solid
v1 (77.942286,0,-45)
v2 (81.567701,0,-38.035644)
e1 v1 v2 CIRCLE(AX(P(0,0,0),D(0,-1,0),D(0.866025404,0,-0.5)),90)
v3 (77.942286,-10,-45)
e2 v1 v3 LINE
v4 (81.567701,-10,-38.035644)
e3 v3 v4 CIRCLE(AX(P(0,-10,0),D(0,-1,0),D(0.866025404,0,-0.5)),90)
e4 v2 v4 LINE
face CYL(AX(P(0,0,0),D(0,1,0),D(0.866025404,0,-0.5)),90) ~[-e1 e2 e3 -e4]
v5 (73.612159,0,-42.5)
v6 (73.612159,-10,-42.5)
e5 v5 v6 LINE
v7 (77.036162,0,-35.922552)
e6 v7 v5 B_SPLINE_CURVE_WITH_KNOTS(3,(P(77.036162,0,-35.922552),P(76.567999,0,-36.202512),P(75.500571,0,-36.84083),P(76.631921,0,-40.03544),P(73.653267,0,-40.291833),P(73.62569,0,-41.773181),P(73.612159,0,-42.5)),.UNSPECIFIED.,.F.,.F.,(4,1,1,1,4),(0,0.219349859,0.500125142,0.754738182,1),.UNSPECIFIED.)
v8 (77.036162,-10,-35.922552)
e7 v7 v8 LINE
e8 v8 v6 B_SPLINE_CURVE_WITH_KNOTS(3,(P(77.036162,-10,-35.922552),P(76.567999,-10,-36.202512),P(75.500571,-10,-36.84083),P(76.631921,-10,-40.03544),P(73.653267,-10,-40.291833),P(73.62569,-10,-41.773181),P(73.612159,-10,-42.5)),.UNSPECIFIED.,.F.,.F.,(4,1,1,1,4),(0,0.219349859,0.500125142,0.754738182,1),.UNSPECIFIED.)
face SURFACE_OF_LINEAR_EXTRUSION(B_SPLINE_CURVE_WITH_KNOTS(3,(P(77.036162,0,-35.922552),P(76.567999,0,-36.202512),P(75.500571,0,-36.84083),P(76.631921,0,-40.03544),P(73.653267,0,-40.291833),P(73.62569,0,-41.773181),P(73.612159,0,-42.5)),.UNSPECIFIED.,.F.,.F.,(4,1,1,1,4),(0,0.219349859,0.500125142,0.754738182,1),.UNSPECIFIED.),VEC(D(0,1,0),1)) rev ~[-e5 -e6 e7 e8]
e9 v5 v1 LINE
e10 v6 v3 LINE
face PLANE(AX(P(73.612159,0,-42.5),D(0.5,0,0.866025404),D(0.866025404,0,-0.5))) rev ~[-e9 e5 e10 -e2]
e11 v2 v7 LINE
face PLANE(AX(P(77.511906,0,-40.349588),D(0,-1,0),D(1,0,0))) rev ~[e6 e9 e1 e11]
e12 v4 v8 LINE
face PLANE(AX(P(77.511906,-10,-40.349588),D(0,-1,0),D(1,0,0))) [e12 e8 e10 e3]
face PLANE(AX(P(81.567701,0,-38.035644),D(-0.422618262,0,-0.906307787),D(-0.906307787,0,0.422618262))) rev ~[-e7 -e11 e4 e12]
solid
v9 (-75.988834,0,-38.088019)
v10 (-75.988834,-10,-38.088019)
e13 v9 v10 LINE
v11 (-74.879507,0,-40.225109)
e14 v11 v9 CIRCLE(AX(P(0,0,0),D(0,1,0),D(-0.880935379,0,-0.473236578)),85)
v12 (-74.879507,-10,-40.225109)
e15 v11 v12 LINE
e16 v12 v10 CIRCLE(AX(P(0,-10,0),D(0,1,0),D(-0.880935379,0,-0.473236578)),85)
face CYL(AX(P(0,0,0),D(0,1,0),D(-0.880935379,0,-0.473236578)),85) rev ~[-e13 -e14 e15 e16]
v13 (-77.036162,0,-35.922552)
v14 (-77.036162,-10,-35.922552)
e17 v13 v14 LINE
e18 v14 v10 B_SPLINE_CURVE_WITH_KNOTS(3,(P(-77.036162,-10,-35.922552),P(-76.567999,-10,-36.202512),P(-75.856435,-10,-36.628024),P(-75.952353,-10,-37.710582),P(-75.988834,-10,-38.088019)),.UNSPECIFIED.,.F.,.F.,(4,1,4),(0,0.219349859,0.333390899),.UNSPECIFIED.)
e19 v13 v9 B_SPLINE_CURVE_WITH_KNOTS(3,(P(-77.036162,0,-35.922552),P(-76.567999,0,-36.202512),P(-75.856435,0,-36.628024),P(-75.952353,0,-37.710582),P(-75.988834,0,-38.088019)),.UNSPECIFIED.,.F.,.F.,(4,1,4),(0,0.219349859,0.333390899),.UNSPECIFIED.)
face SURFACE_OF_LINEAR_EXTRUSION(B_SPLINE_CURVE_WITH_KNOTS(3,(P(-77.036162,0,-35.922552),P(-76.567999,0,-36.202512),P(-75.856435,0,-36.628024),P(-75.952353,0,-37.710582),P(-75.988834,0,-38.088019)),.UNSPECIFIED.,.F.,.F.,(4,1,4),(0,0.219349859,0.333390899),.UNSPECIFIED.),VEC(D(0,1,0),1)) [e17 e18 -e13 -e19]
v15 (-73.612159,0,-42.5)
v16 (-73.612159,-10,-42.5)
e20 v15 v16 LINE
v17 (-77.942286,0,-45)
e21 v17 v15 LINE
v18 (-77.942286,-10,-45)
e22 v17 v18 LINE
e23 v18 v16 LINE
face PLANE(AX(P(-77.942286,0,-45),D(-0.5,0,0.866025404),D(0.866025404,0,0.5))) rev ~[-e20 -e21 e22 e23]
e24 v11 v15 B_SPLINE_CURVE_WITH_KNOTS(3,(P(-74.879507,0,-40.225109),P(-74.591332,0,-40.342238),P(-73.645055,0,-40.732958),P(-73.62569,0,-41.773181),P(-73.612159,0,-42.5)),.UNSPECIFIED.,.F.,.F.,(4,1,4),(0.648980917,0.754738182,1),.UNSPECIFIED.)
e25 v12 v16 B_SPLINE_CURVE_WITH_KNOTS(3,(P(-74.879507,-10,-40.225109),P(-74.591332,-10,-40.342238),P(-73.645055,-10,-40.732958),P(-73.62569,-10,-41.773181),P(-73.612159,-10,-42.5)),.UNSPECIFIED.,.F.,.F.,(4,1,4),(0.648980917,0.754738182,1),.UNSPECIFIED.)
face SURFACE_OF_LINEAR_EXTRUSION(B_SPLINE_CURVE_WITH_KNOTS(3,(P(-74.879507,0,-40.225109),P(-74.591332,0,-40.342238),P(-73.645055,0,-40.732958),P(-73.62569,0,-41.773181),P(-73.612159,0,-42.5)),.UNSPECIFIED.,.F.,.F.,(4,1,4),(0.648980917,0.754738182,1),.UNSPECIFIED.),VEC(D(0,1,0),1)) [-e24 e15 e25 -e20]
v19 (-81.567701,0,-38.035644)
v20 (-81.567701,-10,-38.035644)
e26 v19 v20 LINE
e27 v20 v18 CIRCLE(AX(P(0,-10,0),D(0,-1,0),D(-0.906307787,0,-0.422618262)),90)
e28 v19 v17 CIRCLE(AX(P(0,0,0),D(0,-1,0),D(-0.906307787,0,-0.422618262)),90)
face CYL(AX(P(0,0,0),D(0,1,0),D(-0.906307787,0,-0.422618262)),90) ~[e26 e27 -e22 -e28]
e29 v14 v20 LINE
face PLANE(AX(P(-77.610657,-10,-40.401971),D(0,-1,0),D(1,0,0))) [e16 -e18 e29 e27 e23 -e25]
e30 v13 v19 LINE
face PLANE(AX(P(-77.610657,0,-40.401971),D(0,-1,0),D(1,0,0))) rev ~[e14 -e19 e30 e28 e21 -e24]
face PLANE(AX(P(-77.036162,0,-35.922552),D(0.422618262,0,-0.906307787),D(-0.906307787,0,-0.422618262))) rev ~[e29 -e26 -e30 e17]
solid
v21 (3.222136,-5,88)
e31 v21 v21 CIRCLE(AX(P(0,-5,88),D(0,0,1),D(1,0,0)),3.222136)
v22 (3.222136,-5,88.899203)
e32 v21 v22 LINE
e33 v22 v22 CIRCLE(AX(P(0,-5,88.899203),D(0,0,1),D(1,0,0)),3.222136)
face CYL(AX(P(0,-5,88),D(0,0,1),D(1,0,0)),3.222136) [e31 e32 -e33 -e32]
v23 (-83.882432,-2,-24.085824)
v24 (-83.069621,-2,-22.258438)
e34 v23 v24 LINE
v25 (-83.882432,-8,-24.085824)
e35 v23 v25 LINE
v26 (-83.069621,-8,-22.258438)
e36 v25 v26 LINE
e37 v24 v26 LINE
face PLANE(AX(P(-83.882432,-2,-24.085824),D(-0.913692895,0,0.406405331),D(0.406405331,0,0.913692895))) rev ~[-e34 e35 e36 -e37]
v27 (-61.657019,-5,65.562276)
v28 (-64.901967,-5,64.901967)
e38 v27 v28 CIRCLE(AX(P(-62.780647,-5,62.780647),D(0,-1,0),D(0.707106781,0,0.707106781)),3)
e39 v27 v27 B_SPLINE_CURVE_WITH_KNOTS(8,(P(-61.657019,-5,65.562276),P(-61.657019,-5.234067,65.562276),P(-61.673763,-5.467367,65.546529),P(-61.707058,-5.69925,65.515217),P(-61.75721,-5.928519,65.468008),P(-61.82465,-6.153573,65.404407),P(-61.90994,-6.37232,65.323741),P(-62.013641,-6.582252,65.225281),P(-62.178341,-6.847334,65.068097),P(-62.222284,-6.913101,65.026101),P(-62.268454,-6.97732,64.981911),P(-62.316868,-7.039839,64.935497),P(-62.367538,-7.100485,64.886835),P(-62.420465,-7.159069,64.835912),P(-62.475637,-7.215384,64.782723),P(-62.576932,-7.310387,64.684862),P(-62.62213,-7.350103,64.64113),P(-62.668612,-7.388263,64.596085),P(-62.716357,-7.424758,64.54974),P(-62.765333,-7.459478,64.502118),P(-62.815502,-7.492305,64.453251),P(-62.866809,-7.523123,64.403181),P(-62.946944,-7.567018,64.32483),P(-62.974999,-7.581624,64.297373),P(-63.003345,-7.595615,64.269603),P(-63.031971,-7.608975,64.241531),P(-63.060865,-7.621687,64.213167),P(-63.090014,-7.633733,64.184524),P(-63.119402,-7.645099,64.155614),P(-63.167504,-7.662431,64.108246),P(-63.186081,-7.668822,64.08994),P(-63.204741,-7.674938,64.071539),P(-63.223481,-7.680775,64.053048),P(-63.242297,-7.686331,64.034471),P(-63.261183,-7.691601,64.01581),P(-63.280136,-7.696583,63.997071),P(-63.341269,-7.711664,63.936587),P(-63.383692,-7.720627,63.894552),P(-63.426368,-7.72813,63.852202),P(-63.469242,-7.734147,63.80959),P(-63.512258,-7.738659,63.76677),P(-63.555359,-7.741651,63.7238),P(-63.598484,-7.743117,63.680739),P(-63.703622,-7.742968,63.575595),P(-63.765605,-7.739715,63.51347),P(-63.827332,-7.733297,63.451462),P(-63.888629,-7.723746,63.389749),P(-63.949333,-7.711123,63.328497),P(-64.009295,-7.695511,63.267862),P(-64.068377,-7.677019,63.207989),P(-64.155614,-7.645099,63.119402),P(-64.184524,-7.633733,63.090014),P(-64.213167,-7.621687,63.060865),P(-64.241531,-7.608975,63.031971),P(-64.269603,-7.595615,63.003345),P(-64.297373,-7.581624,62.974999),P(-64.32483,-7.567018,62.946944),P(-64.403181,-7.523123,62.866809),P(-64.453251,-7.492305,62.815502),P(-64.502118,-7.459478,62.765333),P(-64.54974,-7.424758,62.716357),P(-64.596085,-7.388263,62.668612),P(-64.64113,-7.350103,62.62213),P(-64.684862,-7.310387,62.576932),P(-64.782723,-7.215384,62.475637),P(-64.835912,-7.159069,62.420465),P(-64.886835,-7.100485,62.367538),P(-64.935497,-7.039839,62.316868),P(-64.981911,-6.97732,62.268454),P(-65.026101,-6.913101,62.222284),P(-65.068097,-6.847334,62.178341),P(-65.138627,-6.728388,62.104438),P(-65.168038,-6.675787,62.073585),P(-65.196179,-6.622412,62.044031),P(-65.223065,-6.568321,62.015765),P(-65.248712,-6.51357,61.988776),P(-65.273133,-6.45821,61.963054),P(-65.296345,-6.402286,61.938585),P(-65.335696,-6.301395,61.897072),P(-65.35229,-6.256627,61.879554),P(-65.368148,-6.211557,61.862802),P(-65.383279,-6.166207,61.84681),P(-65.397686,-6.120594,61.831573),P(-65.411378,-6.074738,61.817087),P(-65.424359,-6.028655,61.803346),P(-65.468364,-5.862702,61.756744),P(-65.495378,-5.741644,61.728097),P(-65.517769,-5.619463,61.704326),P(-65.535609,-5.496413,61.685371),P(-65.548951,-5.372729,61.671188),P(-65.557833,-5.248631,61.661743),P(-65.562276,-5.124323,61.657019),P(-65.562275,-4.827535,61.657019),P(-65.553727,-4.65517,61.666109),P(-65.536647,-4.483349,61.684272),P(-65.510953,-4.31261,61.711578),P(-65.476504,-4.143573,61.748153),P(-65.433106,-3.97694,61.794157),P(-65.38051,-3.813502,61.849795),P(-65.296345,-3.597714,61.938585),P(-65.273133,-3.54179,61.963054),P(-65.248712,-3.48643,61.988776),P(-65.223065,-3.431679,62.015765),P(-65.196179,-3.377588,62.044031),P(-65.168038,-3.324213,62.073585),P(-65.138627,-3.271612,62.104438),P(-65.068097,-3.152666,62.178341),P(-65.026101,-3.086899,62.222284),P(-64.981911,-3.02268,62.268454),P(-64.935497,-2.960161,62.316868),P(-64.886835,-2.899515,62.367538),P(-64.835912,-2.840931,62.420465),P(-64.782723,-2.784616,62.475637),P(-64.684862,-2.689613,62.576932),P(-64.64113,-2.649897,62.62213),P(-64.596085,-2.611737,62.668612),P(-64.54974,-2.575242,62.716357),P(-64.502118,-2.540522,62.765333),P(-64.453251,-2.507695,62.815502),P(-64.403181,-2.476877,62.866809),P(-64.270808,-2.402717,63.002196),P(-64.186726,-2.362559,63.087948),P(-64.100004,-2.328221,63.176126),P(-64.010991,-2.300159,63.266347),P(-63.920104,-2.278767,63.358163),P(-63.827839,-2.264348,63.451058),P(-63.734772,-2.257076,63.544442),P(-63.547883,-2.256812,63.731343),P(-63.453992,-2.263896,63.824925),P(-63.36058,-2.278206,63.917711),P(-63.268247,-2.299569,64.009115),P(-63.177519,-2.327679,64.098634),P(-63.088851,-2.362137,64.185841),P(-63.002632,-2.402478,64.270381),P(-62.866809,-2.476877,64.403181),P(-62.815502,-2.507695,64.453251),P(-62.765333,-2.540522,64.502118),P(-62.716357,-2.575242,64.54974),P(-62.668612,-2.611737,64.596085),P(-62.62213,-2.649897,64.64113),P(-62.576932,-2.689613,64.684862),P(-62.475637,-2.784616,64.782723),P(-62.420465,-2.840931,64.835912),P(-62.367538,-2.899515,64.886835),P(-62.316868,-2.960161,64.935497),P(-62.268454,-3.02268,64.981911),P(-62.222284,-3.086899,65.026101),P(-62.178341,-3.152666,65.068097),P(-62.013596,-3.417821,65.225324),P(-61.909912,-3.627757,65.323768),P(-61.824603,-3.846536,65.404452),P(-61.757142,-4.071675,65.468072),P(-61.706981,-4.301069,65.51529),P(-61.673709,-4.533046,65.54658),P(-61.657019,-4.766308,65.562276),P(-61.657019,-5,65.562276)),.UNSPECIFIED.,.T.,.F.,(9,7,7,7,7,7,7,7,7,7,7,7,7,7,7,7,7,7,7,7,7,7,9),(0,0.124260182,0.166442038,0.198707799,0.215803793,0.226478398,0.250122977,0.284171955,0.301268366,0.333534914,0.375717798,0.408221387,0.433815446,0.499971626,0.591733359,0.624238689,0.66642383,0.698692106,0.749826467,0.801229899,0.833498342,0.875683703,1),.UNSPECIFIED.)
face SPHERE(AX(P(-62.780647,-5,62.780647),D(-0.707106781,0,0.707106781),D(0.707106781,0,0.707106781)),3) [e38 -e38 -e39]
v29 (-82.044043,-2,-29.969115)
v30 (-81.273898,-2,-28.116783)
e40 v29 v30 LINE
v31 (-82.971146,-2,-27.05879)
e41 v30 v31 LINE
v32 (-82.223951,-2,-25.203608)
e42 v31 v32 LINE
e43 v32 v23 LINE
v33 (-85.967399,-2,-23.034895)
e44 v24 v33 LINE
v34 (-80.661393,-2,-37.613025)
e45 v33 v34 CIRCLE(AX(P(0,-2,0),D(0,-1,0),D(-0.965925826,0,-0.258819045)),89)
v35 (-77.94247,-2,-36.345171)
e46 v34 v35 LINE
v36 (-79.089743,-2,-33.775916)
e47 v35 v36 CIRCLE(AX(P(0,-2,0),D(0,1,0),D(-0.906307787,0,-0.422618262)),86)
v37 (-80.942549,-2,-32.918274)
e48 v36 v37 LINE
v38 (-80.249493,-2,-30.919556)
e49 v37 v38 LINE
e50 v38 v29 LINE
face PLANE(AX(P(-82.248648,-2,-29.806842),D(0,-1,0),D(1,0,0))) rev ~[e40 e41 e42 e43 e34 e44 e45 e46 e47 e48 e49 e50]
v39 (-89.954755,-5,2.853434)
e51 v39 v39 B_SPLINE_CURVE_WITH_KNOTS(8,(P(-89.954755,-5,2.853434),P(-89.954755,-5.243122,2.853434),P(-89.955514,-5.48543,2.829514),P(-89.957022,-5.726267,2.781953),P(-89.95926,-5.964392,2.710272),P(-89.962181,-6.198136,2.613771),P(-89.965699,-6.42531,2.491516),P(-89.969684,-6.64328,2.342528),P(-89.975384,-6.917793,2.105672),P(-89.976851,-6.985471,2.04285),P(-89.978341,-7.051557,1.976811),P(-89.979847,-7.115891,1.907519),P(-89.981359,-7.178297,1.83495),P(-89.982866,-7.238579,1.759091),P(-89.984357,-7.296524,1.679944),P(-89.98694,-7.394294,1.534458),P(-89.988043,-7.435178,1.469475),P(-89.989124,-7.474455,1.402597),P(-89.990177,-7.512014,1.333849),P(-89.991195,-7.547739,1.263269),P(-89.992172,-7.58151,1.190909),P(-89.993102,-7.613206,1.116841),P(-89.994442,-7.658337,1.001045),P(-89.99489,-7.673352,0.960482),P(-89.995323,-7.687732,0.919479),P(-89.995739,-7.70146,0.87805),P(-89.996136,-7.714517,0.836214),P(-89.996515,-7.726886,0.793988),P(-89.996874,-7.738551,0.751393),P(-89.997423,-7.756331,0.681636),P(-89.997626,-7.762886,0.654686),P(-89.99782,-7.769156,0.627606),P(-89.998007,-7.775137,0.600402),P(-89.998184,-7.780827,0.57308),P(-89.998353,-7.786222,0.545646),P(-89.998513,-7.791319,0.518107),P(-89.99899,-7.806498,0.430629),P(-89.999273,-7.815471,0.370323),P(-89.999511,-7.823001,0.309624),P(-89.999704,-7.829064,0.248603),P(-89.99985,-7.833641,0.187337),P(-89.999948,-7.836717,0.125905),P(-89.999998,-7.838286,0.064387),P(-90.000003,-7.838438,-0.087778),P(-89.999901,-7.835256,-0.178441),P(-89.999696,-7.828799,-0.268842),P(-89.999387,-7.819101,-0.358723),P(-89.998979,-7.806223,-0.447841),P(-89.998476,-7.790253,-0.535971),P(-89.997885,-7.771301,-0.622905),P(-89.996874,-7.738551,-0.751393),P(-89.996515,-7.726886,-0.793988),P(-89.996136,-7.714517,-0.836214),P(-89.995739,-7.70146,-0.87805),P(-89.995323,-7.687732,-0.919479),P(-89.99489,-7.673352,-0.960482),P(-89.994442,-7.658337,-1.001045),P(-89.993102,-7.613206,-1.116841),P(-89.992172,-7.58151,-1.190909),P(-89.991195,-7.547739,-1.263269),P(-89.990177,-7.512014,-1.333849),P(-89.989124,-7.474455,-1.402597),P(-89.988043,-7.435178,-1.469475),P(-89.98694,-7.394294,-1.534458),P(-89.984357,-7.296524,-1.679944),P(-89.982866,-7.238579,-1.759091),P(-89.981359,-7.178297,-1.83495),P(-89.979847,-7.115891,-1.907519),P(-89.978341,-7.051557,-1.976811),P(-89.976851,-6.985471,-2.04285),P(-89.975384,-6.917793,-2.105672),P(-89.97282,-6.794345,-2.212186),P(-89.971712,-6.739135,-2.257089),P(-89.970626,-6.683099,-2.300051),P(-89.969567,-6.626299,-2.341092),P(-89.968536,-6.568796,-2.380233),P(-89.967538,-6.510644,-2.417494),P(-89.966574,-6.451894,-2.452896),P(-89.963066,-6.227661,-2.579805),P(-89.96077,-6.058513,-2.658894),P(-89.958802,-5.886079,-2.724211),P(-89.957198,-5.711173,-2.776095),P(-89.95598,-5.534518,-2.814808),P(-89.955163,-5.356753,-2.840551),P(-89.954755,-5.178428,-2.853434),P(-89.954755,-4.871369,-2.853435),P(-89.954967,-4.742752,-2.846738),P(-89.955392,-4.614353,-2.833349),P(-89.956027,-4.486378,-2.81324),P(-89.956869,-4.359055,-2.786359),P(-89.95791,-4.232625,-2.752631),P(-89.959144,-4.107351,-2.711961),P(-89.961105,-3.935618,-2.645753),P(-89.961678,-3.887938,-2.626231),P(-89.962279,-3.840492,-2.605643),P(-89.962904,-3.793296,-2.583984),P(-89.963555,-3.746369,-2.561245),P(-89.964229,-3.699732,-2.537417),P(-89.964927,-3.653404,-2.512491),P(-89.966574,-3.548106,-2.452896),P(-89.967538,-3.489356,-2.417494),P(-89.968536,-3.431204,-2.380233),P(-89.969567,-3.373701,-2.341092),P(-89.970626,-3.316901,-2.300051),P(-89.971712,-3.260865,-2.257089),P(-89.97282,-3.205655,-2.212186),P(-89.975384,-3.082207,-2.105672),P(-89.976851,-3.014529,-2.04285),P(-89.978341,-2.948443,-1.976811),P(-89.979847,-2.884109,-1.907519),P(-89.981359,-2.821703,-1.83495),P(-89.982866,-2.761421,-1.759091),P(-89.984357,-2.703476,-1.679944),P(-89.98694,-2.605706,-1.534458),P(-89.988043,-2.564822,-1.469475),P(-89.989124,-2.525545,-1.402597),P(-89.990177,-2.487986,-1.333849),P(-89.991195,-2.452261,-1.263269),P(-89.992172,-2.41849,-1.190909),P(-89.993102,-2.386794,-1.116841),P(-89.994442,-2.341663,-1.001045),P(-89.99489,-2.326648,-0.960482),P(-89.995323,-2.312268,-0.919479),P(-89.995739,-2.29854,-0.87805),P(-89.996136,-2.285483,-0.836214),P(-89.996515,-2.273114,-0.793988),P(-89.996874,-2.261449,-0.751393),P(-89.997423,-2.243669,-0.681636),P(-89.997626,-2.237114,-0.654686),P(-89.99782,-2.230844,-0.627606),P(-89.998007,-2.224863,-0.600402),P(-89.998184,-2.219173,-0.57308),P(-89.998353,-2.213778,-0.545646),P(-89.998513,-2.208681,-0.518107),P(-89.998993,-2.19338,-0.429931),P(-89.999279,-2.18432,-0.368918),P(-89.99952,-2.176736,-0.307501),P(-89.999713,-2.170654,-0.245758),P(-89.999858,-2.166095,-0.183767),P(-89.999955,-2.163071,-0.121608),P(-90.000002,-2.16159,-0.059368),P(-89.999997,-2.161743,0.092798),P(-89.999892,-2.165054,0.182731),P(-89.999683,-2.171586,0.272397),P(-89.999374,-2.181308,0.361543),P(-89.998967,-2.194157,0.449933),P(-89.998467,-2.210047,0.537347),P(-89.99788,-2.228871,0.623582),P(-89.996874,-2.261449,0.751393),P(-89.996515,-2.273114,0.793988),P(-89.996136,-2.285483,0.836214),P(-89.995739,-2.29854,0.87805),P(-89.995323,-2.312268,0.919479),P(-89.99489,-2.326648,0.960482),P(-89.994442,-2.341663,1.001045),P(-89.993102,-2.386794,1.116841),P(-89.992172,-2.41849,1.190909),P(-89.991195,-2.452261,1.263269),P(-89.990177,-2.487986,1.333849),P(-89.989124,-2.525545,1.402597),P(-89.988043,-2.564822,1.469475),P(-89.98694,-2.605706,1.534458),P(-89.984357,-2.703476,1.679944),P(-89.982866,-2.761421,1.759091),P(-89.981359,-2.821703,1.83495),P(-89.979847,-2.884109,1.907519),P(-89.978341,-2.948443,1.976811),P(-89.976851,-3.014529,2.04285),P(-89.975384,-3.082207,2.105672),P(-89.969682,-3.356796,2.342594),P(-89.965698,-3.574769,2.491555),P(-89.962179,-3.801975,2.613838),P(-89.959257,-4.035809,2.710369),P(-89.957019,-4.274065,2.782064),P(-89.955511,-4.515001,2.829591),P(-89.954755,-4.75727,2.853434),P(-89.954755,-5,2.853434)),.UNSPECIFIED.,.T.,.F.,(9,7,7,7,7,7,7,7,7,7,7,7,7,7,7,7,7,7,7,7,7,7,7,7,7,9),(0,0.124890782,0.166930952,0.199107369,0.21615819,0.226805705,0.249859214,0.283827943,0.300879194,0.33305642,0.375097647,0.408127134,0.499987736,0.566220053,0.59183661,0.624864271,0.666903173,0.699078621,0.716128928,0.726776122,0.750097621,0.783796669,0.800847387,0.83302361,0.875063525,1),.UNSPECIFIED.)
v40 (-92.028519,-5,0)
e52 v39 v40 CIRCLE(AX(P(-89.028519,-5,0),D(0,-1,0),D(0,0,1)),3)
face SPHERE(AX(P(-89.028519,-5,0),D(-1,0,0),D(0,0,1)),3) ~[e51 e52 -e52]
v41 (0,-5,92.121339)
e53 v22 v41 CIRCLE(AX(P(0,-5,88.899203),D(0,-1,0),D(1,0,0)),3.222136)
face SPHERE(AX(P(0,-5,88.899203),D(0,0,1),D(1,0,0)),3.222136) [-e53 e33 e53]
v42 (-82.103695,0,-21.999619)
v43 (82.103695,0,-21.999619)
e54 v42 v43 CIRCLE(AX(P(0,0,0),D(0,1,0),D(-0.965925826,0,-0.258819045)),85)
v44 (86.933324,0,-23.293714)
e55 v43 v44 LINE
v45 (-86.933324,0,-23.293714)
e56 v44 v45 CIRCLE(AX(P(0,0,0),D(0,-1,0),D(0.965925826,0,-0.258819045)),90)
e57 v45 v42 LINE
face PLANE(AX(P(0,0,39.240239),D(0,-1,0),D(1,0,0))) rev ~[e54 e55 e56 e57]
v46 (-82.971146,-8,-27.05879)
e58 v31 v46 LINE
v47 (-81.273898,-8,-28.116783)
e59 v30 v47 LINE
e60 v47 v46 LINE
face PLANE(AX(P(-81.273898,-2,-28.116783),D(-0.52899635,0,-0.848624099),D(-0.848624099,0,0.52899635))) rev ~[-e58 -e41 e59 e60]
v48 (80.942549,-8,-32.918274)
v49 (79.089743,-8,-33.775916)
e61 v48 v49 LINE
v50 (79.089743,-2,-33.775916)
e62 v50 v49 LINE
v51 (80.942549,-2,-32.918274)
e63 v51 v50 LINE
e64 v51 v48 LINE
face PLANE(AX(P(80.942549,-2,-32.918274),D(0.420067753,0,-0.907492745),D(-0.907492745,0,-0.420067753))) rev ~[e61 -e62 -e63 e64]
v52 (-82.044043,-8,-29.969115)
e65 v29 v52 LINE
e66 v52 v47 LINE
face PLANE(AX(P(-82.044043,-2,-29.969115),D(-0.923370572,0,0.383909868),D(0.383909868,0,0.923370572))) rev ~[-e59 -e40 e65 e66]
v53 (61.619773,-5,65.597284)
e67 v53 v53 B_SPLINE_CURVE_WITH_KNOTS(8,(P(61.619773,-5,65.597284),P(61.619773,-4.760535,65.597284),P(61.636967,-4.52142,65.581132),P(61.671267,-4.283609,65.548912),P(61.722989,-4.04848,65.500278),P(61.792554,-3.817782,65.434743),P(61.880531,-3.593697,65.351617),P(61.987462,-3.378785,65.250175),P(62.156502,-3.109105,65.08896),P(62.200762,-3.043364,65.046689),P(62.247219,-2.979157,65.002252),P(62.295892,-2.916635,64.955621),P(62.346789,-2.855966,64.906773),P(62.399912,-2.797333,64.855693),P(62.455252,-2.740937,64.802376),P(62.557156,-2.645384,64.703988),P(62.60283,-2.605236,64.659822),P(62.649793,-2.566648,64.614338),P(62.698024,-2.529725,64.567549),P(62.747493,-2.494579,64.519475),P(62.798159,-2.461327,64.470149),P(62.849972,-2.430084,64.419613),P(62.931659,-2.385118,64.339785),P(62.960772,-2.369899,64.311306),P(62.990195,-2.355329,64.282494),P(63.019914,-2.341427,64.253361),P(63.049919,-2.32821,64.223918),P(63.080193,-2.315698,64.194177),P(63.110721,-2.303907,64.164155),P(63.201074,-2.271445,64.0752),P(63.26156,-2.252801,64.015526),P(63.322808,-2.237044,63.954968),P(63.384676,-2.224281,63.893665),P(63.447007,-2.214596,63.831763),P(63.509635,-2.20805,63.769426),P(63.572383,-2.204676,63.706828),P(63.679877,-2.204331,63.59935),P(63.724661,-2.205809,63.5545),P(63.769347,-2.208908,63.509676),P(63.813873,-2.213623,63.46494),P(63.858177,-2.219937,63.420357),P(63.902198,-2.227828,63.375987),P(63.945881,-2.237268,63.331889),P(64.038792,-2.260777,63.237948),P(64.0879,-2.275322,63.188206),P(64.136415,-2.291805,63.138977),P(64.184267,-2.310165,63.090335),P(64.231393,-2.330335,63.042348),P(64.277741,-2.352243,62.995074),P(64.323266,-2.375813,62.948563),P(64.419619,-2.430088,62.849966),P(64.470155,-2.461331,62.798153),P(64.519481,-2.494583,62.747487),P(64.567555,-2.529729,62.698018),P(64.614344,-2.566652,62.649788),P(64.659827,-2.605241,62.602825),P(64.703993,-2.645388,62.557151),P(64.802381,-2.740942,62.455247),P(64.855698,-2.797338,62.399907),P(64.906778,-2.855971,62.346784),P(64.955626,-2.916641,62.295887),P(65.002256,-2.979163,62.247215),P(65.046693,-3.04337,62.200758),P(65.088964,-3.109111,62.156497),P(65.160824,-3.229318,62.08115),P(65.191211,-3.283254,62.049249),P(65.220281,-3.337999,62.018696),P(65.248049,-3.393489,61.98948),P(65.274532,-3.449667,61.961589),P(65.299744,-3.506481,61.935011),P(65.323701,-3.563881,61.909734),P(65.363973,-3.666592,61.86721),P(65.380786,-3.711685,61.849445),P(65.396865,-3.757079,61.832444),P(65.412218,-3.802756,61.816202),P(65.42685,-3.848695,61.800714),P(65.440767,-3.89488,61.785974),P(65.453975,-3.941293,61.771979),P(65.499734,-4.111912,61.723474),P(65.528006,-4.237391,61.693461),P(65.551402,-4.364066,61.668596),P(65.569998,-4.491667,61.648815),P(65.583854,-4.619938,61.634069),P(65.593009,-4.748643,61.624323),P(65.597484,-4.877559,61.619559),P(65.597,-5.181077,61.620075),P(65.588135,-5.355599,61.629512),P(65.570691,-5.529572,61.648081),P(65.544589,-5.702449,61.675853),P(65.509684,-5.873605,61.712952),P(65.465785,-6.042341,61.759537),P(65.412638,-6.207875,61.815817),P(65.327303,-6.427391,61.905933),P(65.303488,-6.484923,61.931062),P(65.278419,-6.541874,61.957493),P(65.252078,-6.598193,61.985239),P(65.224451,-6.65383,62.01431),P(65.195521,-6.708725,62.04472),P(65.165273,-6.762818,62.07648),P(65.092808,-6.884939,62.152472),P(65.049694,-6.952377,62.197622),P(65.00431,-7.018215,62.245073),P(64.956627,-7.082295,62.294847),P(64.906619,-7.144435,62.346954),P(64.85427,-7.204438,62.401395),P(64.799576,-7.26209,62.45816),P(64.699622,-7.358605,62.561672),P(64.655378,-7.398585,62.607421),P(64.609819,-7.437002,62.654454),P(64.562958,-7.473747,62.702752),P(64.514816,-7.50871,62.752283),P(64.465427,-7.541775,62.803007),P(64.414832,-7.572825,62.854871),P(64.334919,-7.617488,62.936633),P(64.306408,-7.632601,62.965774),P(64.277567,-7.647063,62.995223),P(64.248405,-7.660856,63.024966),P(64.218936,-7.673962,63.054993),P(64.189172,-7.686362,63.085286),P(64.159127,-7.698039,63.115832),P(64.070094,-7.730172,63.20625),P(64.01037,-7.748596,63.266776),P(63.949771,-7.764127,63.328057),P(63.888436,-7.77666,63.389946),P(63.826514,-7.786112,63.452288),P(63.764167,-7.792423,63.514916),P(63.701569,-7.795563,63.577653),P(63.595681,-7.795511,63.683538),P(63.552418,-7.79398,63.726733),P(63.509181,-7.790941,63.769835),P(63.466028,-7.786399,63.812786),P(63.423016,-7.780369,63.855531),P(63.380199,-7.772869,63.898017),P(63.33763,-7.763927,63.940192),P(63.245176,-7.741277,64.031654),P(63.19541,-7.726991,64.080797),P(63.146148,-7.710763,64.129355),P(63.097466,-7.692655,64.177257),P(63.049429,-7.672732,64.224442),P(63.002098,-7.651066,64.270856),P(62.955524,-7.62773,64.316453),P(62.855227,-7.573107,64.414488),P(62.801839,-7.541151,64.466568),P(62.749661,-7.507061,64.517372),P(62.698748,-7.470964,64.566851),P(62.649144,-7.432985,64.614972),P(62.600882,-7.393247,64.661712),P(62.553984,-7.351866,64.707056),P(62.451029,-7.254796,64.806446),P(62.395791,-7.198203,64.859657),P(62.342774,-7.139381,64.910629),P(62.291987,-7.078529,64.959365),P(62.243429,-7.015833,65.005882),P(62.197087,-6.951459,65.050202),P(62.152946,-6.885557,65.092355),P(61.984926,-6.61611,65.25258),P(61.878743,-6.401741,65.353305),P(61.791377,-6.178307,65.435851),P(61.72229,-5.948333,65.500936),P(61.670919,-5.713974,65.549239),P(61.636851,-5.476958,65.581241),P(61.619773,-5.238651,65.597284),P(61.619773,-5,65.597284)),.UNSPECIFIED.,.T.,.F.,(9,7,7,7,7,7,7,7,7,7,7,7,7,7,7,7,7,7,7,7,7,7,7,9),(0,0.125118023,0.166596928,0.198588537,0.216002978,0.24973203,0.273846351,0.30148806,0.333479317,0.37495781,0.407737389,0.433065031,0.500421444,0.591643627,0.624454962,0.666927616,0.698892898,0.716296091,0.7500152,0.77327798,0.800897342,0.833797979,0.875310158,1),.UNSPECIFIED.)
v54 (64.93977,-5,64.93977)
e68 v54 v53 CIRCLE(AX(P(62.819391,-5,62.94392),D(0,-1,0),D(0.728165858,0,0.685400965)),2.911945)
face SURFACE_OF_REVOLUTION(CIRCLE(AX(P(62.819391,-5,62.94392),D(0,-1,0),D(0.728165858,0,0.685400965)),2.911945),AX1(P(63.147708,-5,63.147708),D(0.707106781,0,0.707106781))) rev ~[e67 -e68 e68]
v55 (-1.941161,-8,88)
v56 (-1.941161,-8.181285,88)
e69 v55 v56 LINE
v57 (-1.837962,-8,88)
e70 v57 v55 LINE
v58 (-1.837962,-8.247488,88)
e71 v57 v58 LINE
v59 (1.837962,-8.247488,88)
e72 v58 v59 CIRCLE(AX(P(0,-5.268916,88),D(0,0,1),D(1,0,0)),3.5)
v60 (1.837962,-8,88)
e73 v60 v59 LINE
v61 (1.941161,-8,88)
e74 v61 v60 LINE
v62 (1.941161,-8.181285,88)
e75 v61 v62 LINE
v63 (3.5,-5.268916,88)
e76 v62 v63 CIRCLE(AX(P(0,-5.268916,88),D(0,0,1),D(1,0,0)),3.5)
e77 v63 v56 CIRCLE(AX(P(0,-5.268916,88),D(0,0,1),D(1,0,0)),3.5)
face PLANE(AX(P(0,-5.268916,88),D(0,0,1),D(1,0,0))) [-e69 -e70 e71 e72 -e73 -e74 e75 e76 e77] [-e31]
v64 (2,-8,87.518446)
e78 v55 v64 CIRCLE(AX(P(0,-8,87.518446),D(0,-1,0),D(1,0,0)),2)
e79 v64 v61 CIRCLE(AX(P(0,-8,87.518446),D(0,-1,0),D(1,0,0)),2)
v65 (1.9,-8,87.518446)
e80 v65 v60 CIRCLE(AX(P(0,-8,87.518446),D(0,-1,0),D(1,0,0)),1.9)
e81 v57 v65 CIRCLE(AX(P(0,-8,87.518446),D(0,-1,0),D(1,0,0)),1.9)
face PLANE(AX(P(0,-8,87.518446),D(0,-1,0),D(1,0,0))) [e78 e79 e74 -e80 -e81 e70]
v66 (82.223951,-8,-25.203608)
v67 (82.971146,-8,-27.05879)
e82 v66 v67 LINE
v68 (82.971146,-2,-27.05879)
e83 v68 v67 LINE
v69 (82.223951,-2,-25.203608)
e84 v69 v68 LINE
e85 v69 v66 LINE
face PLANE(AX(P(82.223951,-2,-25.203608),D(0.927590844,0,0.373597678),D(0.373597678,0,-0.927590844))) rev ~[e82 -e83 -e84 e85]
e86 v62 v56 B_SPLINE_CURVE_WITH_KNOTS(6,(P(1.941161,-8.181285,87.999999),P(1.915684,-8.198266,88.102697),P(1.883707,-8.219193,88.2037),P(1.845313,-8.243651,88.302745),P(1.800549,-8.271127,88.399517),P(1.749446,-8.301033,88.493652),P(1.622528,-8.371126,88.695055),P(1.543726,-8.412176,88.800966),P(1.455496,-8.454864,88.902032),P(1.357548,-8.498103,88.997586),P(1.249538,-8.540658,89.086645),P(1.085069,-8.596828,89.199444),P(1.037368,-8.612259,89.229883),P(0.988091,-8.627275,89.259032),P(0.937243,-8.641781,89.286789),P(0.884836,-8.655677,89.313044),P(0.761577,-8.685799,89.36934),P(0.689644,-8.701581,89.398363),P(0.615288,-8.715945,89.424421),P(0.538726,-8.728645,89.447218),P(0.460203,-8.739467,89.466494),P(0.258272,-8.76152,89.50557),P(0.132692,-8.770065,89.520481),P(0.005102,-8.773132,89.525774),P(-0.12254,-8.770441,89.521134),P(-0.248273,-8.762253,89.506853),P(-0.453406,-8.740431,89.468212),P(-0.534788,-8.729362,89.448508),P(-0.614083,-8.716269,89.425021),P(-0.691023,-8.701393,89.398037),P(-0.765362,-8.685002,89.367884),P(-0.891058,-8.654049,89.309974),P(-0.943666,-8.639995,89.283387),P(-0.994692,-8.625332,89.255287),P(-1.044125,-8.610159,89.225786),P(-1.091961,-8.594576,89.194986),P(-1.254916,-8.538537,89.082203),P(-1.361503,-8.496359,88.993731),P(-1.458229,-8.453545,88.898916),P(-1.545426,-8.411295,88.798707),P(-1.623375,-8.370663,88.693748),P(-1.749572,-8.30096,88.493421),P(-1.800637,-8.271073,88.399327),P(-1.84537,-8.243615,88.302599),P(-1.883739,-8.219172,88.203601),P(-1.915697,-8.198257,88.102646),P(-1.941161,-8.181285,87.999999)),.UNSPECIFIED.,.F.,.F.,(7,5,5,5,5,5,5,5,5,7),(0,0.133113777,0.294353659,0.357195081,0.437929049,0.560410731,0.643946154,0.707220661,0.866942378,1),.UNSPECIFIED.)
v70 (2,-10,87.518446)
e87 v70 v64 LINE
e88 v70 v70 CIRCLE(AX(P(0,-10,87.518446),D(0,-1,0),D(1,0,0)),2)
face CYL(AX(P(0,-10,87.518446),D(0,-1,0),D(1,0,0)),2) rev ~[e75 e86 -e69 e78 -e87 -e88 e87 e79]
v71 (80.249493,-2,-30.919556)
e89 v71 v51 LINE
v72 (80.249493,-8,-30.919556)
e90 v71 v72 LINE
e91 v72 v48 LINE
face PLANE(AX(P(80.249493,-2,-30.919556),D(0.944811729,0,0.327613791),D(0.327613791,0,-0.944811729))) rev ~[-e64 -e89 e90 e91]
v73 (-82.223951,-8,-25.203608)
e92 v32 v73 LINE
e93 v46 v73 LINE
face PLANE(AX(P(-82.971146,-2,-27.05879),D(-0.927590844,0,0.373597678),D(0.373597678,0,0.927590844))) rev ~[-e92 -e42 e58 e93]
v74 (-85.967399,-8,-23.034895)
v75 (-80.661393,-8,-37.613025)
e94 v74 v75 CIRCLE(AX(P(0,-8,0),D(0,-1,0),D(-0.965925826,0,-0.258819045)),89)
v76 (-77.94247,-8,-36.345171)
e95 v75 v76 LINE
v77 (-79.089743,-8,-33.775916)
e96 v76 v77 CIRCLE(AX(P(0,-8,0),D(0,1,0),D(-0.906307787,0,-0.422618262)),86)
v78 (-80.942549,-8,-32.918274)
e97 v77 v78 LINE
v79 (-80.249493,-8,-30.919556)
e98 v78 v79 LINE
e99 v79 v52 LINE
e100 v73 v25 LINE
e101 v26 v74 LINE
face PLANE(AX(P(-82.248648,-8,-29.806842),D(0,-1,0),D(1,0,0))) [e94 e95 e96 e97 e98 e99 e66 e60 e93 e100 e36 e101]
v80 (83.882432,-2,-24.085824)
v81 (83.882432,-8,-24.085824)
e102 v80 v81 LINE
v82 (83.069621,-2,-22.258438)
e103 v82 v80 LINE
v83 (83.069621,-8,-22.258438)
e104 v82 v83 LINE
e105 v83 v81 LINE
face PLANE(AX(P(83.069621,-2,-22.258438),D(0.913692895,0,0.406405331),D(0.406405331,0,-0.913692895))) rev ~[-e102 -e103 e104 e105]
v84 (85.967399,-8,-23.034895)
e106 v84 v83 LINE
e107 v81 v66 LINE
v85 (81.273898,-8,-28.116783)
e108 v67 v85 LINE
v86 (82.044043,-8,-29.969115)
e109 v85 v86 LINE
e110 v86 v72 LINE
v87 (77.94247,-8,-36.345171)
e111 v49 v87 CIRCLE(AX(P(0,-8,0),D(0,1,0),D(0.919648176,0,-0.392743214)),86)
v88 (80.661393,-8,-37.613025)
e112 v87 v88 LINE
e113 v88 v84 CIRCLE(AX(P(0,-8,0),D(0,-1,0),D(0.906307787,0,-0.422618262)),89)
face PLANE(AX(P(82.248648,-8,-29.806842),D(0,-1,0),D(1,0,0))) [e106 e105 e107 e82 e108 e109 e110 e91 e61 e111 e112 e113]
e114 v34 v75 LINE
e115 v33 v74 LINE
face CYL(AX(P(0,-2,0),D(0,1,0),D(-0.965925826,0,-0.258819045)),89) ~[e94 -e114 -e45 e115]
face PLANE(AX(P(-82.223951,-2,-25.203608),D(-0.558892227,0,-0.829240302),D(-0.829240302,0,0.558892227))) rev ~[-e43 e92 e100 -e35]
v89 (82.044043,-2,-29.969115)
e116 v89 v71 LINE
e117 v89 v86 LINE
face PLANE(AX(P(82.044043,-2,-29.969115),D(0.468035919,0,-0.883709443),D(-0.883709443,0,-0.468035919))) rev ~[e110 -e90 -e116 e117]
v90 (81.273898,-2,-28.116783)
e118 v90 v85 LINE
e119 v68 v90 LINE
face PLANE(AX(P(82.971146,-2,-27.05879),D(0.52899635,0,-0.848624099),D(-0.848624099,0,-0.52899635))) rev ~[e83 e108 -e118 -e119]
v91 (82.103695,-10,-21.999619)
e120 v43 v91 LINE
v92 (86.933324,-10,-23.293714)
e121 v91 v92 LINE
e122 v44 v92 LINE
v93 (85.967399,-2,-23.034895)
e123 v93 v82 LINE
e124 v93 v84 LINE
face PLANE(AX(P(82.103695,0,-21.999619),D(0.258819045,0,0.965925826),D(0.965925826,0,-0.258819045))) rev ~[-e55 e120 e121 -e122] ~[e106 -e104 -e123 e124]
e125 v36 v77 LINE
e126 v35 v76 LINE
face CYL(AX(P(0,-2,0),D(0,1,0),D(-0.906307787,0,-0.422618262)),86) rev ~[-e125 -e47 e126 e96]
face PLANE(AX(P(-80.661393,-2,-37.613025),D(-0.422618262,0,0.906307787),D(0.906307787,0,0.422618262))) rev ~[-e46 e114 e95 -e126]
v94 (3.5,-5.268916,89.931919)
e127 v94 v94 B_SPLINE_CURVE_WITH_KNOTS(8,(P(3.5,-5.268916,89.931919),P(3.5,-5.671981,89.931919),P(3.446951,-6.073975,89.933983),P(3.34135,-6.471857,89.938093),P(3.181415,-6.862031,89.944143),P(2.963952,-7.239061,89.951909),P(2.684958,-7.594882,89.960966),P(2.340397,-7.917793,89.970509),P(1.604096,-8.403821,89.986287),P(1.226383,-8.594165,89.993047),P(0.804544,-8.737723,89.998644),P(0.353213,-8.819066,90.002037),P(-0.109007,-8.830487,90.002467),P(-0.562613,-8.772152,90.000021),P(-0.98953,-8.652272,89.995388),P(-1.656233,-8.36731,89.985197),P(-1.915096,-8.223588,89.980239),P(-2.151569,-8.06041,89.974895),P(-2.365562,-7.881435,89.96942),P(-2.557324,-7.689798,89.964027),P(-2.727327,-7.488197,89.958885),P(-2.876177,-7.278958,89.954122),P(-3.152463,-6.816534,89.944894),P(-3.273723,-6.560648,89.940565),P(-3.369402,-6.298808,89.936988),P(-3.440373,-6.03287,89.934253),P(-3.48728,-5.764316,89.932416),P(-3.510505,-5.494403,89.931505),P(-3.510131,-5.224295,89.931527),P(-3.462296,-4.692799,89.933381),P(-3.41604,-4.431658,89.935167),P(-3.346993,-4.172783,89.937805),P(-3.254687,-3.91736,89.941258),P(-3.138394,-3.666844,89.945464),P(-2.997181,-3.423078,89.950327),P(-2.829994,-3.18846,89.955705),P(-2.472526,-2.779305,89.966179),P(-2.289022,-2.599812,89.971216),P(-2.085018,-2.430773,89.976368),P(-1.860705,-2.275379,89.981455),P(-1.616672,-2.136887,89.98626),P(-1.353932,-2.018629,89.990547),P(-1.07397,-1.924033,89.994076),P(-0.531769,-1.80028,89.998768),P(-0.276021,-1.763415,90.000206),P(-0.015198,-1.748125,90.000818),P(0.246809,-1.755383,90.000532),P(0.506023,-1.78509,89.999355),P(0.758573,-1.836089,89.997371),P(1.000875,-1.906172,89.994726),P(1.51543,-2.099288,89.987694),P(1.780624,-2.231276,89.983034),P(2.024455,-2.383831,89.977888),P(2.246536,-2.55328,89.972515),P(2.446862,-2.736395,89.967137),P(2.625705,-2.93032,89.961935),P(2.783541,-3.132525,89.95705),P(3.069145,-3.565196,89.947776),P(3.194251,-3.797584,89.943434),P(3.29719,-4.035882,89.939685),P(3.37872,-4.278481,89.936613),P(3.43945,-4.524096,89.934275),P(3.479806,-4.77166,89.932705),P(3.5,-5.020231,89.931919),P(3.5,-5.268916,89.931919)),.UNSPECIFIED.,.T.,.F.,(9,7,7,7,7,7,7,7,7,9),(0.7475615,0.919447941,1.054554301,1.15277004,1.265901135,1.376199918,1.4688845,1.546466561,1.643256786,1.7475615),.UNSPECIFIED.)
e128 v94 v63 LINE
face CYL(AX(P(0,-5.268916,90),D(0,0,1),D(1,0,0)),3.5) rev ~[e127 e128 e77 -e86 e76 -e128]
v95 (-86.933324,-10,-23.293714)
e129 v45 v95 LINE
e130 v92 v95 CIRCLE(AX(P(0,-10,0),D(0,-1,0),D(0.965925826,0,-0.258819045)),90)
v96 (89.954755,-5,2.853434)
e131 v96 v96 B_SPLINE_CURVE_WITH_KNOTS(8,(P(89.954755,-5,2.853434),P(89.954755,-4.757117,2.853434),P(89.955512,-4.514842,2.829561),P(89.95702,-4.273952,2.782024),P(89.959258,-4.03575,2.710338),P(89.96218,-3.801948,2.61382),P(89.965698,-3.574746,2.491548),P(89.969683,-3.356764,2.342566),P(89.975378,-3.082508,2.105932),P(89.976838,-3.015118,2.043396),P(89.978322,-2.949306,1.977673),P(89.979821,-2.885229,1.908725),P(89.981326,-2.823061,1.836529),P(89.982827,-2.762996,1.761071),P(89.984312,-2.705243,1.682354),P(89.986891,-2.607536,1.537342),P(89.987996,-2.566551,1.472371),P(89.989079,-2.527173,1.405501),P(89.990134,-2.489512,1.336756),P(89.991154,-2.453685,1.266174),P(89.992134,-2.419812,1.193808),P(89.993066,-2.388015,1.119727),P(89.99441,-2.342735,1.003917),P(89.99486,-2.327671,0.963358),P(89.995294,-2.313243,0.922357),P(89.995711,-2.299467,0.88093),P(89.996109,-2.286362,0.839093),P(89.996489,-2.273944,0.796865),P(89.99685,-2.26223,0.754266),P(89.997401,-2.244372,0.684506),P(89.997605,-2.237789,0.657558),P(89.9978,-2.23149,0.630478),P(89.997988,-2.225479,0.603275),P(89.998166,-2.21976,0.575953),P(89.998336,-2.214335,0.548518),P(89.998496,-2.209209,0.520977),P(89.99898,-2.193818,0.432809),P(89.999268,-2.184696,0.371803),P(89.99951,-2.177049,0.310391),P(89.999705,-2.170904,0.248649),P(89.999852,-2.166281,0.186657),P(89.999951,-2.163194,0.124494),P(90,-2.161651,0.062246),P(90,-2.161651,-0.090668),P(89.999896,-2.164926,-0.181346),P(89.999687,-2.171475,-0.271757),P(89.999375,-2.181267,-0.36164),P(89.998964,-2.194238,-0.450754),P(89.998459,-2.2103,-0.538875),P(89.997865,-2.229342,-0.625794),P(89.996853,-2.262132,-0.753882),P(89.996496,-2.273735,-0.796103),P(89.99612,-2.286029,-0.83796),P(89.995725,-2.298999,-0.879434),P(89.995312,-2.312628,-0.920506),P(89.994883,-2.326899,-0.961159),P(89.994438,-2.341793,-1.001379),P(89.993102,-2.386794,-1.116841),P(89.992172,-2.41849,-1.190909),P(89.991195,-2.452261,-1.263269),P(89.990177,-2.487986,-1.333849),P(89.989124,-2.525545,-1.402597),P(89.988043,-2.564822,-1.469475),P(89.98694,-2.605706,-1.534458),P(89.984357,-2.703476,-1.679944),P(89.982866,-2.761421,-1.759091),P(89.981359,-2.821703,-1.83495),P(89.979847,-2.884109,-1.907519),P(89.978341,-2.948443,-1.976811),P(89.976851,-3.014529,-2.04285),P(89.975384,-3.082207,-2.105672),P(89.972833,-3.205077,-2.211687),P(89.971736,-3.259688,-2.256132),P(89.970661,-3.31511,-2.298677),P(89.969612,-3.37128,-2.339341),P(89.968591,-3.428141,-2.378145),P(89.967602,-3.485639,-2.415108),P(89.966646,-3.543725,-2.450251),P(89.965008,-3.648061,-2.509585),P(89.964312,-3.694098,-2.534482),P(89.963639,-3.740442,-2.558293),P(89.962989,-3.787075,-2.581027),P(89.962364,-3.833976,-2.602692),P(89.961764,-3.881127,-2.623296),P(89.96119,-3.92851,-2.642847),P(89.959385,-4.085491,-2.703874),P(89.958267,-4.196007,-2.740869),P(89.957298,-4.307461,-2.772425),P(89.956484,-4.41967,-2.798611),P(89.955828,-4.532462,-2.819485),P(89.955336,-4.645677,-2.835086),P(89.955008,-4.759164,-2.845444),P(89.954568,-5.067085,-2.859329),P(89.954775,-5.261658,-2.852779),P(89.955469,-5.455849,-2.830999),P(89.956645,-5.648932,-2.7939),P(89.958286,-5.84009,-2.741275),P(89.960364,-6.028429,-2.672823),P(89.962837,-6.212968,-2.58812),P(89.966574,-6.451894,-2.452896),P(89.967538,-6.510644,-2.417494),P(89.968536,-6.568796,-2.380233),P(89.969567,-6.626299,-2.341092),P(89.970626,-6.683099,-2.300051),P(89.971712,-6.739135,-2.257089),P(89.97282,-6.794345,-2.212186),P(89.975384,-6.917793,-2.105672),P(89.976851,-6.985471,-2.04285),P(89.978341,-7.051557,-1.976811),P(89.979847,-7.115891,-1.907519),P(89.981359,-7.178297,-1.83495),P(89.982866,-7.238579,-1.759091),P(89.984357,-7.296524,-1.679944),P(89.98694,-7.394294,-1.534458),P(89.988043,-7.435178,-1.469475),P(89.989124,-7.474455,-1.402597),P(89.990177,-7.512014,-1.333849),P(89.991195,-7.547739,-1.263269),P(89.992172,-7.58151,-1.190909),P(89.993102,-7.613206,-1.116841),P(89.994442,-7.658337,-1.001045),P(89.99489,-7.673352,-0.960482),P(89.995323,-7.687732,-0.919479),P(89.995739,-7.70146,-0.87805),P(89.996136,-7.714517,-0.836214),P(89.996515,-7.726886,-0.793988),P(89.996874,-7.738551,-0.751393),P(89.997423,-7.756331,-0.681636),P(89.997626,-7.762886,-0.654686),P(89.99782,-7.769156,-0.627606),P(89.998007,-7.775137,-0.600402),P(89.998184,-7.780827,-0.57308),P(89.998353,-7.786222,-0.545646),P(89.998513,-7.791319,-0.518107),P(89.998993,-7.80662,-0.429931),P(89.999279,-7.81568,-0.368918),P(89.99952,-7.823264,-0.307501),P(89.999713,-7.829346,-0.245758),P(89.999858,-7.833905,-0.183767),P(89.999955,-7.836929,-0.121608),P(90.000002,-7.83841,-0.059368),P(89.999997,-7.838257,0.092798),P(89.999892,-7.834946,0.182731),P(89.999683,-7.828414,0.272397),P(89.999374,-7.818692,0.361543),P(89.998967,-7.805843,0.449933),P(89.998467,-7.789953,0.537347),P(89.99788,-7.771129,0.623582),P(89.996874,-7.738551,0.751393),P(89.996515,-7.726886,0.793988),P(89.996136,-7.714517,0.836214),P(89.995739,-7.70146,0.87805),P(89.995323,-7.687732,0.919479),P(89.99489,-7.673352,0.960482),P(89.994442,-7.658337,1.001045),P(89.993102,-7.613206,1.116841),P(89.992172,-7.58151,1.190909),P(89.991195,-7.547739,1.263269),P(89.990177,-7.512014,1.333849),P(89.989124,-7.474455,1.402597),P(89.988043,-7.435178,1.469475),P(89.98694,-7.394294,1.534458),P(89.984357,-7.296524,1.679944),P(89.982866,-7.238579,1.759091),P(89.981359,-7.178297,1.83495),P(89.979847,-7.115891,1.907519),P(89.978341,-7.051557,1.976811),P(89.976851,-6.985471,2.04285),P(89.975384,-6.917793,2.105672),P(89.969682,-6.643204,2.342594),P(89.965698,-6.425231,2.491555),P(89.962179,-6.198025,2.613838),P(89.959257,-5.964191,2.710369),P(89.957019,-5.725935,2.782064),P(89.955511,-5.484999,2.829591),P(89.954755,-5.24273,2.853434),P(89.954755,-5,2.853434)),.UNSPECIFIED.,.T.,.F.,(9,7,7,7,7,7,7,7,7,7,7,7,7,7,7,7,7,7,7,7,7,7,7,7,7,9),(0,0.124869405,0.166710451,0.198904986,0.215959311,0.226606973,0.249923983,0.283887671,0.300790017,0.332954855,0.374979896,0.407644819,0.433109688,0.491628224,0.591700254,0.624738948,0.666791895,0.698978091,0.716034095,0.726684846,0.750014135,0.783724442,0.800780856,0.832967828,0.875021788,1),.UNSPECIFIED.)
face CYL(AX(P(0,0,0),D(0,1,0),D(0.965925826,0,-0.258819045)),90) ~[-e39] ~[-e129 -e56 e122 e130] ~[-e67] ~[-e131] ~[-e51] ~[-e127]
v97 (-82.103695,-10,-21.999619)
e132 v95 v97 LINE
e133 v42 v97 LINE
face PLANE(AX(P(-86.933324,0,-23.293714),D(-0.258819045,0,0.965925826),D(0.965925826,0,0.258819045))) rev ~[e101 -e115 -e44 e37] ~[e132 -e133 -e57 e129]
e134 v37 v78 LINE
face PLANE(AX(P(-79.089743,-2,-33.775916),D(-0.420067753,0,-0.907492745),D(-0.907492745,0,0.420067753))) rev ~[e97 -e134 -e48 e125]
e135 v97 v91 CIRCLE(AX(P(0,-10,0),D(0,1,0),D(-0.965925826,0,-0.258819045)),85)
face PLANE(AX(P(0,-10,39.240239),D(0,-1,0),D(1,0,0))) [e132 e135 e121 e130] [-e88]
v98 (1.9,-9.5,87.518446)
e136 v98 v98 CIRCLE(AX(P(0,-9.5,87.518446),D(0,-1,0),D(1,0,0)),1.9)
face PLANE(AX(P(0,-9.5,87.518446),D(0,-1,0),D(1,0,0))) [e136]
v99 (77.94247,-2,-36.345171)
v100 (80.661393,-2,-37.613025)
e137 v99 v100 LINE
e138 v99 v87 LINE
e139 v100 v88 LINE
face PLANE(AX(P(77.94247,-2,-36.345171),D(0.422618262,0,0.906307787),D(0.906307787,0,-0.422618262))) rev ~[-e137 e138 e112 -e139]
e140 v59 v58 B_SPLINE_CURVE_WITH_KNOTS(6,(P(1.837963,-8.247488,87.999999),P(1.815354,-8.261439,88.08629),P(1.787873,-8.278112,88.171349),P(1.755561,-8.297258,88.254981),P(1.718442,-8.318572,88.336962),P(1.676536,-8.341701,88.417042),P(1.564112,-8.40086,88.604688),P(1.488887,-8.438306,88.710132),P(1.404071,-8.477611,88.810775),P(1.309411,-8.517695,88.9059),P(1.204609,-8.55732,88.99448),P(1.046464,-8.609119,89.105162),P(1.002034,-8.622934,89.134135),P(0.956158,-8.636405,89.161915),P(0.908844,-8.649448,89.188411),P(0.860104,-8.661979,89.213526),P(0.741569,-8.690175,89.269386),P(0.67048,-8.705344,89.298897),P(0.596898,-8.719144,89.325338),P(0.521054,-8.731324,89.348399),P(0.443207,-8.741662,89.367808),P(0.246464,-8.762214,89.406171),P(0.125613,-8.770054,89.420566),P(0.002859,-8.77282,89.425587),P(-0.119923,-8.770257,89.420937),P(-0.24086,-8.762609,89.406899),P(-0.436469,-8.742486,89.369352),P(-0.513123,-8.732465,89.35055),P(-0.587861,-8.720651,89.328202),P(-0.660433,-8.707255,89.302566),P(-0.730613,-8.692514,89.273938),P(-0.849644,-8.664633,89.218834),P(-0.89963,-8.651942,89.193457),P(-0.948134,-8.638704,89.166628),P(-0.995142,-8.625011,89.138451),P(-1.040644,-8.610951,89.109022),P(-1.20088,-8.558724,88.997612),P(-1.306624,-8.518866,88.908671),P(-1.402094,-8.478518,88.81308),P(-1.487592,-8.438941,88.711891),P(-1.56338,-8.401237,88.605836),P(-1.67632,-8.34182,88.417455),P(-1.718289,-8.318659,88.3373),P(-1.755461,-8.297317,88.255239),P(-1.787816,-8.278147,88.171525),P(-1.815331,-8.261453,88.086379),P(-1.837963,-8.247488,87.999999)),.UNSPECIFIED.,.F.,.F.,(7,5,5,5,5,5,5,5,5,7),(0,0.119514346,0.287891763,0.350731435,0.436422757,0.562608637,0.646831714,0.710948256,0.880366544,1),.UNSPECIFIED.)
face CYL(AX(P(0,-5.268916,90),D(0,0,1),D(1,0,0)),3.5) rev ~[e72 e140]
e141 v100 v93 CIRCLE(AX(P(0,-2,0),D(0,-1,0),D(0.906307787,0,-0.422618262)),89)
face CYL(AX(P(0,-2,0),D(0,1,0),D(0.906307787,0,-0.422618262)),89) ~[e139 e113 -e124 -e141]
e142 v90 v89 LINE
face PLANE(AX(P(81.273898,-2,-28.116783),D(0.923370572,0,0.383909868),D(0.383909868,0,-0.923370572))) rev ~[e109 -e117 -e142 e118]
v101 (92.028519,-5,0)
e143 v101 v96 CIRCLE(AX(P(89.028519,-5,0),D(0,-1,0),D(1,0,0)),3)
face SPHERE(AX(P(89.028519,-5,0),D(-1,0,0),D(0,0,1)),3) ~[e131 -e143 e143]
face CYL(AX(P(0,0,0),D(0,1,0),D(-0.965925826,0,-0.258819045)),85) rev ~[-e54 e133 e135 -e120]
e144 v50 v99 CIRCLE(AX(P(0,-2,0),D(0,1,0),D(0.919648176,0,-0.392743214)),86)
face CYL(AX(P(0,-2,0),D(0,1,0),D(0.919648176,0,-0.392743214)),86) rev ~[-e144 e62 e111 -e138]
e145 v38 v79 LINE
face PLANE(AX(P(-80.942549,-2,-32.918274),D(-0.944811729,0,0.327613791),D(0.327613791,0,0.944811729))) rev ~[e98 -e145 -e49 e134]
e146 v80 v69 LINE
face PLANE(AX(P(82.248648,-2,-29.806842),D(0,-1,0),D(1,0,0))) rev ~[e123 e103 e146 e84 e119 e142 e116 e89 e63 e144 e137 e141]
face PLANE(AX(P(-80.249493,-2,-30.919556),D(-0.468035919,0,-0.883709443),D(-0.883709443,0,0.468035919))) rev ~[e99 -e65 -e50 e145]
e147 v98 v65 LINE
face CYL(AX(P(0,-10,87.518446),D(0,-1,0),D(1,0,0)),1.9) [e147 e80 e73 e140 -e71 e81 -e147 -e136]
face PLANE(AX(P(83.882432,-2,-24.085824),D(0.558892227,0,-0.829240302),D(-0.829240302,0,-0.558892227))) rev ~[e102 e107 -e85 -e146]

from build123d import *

# Parameters (mm, degrees)
F1_DEPTH  = 10
F4_DEPTH  = 6
F6_DEPTH  = 10
F7_R      = 2
F7_R_2    = 1.9
F8_DEPTH  = 2
F10_R     = 3.5
F11_DEPTH = 2
F21_R     = 1.9
F22_DEPTH = 0.5


with BuildPart() as f1:
    # F0 (on Front) → F1 (new body)
    with BuildSketch(Plane.XZ):
        with BuildLine():
            ThreePointArc((-82.1036952346, -21.9996188337), (0, 85), (82.1036952346, -21.9996188337))
            Line((82.1036952346, -21.9996188337), (86.933324366, -23.2937140592))
            ThreePointArc((86.933324366, -23.2937140592), (0, 90), (-86.933324366, -23.2937140592))
            Line((-86.933324366, -23.2937140592), (-82.1036952346, -21.9996188337))
        make_face()
    extrude(amount=F1_DEPTH)

    # F3 (on offset) → F4 (join)
    with BuildSketch(Plane.XZ.offset(2)):
        with BuildLine():
            Line((85.9673985397, -23.0348950141), (83.0696210609, -22.2584378788))
            Line((83.0696210609, -22.2584378788), (83.8824317228, -24.0858236695))
            Line((83.8824317228, -24.0858236695), (82.2239511186, -25.2036081235))
            Line((82.2239511186, -25.2036081235), (82.9711464755, -27.0587898124))
            Line((82.9711464755, -27.0587898124), (81.2738982771, -28.1167825123))
            Line((81.2738982771, -28.1167825123), (82.0440426469, -29.9691148102))
            Line((82.0440426469, -29.9691148102), (80.2494925407, -30.9195560603))
            Line((80.2494925407, -30.9195560603), (80.9425488114, -32.9182744026))
            Line((80.9425488114, -32.9182744026), (79.0897431368, -33.7759164281))
            ThreePointArc((79.0897431368, -33.7759164281), (78.526614804, -35.0652358816), (77.9424696852, -36.3451705097))
            Line((77.9424696852, -36.3451705097), (80.6613930463, -37.6130252949))
            ThreePointArc((80.6613930463, -37.6130252949), (83.6326432499, -30.439792756), (85.9673985397, -23.0348950141))
        make_face()
        with BuildLine():
            Line((-82.2239511186, -25.2036081235), (-83.8824317228, -24.0858236695))
            Line((-83.8824317228, -24.0858236695), (-83.0696210609, -22.2584378788))
            Line((-83.0696210609, -22.2584378788), (-85.9673985397, -23.0348950141))
            ThreePointArc((-85.9673985397, -23.0348950141), (-83.6326432499, -30.439792756), (-80.6613930463, -37.6130252949))
            Line((-80.6613930463, -37.6130252949), (-77.9424696852, -36.3451705097))
            ThreePointArc((-77.9424696852, -36.3451705097), (-78.526614804, -35.0652358816), (-79.0897431368, -33.7759164281))
            Line((-79.0897431368, -33.7759164281), (-80.9425488114, -32.9182744026))
            Line((-80.9425488114, -32.9182744026), (-80.2494925407, -30.9195560603))
            Line((-80.2494925407, -30.9195560603), (-82.0440426469, -29.9691148102))
            Line((-82.0440426469, -29.9691148102), (-81.2738982771, -28.1167825123))
            Line((-81.2738982771, -28.1167825123), (-82.9711464755, -27.0587898124))
            Line((-82.9711464755, -27.0587898124), (-82.2239511186, -25.2036081235))
        make_face()
    extrude(amount=F4_DEPTH)

    # F7 (on face) → F8 (cut)
    with BuildSketch(Plane.XZ.offset(10)):
        with Locations((0, 87.5184461474)):
            Circle(F7_R)
        with Locations((0, 87.5184461474)):
            Circle(F7_R_2, mode=Mode.SUBTRACT)
    extrude(amount=-F8_DEPTH, mode=Mode.SUBTRACT)

    # F10 (on offset) → F11 (cut)
    with BuildSketch(Plane.XY.offset(90)):
        with Locations((0, -5.2689157891)):
            Circle(F10_R)
    extrude(amount=-F11_DEPTH, mode=Mode.SUBTRACT)

    # F13 (on offset) → F14 (revolve)
    with BuildSketch(Plane.XZ.offset(5)):
        with BuildLine():
            Line((0, 92.1213387046), (0, 88))
            Line((0, 88), (3.2221360598, 88))
            Line((3.2221360598, 88), (3.2221360598, 88.8992026448))
            ThreePointArc((3.2221360598, 88.8992026448), (2.2783942578, 91.1775969026), (0, 92.1213387046))
        make_face()
    revolve(axis=Axis((0, -5, 90.0606693523), (0, 0, 1)))

    # F15 (on offset) → F16 (revolve)
    with BuildSketch(Plane.XZ.offset(5)):
        with BuildLine():
            Line((86.490745002, 3), (86.490745002, 0))
            Line((86.490745002, 0), (92.0285186375, 0))
            ThreePointArc((92.0285186375, 0), (91.1498389811, 2.1213203436), (89.0285186375, 3))
            Line((89.0285186375, 3), (86.490745002, 3))
        make_face()
        with BuildLine():
            Line((-92.0285186375, 0), (-86.490745002, 0))
            Line((-86.490745002, 0), (-86.490745002, 3))
            Line((-86.490745002, 3), (-89.0285186375, 3))
            ThreePointArc((-89.0285186375, 3), (-91.1498389811, 2.1213203436), (-92.0285186375, 0))
        make_face()
    revolve(axis=Axis((89.2596318198, -5, 0), (1, 0, 0)))

    # F17 (on offset) → F18 (revolve)
    with BuildSketch(Plane.XZ.offset(5)):
        with BuildLine():
            Line((59.2343263561, 63.4769670432), (61.3556466997, 61.3556466997))
            Line((61.3556466997, 61.3556466997), (64.9397701984, 64.9397701984))
            ThreePointArc((64.9397701984, 64.9397701984), (62.8634241751, 65.8555322529), (60.7603356475, 65.0029763346))
            Line((60.7603356475, 65.0029763346), (59.2343263561, 63.4769670432))
        make_face()
    revolve(axis=Axis((63.147708449, -5, 63.147708449), (0.7071067812, 0, 0.7071067812)))

    # F19 (on offset) → F20 (revolve)
    with BuildSketch(Plane.XZ.offset(5)):
        with BuildLine():
            Line((-64.9019669508, 64.9019669508), (-61.5200344473, 61.5200344473))
            Line((-61.5200344473, 61.5200344473), (-59.3987141038, 63.6413547909))
            Line((-59.3987141038, 63.6413547909), (-60.6593262637, 64.9019669508))
            ThreePointArc((-60.6593262637, 64.9019669508), (-62.7806466073, 65.7806466073), (-64.9019669508, 64.9019669508))
        make_face()
    revolve(axis=Axis((-63.2110006991, -5, 63.2110006991), (-0.7071067812, 0, 0.7071067812)))

    # F21 (on face) → F22 (cut)
    with BuildSketch(Plane.XZ.offset(10)):
        with Locations((0, 87.5184461474)):
            Circle(F21_R)
    extrude(amount=-F22_DEPTH, mode=Mode.SUBTRACT)


with BuildPart() as f6:
    # F5 (on Front) → F6 (new body)
    with BuildSketch(Plane.XZ):
        with BuildLine():
            Line((-77.0361618981, -35.922552248), (-81.5677008333, -38.0356435567))
            ThreePointArc((-81.5677008333, -38.0356435567), (-79.830974986, -41.5573751912), (-77.9422863406, -45))
            Line((-77.9422863406, -45), (-73.6121593217, -42.5))
            ThreePointArc((-73.6121593217, -42.5), (-74.2545455659, -41.3674082195), (-74.8795071796, -40.2251091302))
            add(Edge.make_bspline(
                [(-75.9888335786, -38.0880187377), (-76.0421703816, -38.6398517158), (-76.1579769992, -39.7132043629), (-75.2851202488, -40.0602481492), (-74.8795071796, -40.2251091302)],
                knots=[0.3333908987, 0.3333908987, 0.3333908987, 0.3333908987, 0.5001251423, 0.6489809174, 0.6489809174, 0.6489809174, 0.6489809174], degree=3))
            ThreePointArc((-75.9888335786, -38.0880187377), (-76.5201582685, -37.0089905098), (-77.0361618981, -35.922552248))
        make_face()
        with BuildLine():
            add(Edge.make_bspline(
                [(-77.0361618981, -35.922552248), (-76.5679988081, -36.2025121173), (-75.8564354899, -36.6280244608), (-75.9523528632, -37.7105821334), (-75.9888335786, -38.0880187377)],
                knots=[0, 0, 0, 0, 0.2193498587, 0.3333908987, 0.3333908987, 0.3333908987, 0.3333908987], degree=3))
            ThreePointArc((-77.0361618981, -35.922552248), (-76.5201582685, -37.0089905098), (-75.9888335786, -38.0880187377))
        make_face()
        with BuildLine():
            ThreePointArc((-74.8795071796, -40.2251091302), (-74.2545455659, -41.3674082195), (-73.6121593217, -42.5))
            add(Edge.make_bspline(
                [(-74.8795071796, -40.2251091302), (-74.5913320738, -40.3422375816), (-73.6450547247, -40.7329577311), (-73.6256898345, -41.7731814842), (-73.6121593217, -42.5)],
                knots=[0.6489809174, 0.6489809174, 0.6489809174, 0.6489809174, 0.7547381822, 1, 1, 1, 1], degree=3))
        make_face()
        with BuildLine():
            ThreePointArc((-74.8795071796, -40.2251091302), (-75.4417381137, -39.1604922132), (-75.9888335786, -38.0880187377))
            add(Edge.make_bspline(
                [(-75.9888335786, -38.0880187377), (-76.0421703816, -38.6398517158), (-76.1579769992, -39.7132043629), (-75.2851202488, -40.0602481492), (-74.8795071796, -40.2251091302)],
                knots=[0.3333908987, 0.3333908987, 0.3333908987, 0.3333908987, 0.5001251423, 0.6489809174, 0.6489809174, 0.6489809174, 0.6489809174], degree=3))
        make_face()
    extrude(amount=F6_DEPTH)


with BuildPart() as f6b:
    # F5 (on Front) → F6, piece 2 (new body)
    with BuildSketch(Plane.XZ):
        with BuildLine():
            Line((81.5677008333, -38.0356435567), (77.0361618981, -35.922552248))
            add(Edge.make_bspline(
                [(77.0361618981, -35.922552248), (76.5679988081, -36.2025121173), (75.5005710313, -36.8408301463), (76.631920675, -40.0354401877), (73.6532667448, -40.2918326734), (73.6256898345, -41.7731814842), (73.6121593217, -42.5)],
                knots=[0, 0, 0, 0, 0.2193498587, 0.5001251423, 0.7547381822, 1, 1, 1, 1], degree=3))
            Line((73.6121593217, -42.5), (77.9422863406, -45))
            ThreePointArc((77.9422863406, -45), (79.830974986, -41.5573751912), (81.5677008333, -38.0356435567))
        make_face()
    extrude(amount=F6_DEPTH)


solid = Compound([f1.part, f6.part, f6b.part])
